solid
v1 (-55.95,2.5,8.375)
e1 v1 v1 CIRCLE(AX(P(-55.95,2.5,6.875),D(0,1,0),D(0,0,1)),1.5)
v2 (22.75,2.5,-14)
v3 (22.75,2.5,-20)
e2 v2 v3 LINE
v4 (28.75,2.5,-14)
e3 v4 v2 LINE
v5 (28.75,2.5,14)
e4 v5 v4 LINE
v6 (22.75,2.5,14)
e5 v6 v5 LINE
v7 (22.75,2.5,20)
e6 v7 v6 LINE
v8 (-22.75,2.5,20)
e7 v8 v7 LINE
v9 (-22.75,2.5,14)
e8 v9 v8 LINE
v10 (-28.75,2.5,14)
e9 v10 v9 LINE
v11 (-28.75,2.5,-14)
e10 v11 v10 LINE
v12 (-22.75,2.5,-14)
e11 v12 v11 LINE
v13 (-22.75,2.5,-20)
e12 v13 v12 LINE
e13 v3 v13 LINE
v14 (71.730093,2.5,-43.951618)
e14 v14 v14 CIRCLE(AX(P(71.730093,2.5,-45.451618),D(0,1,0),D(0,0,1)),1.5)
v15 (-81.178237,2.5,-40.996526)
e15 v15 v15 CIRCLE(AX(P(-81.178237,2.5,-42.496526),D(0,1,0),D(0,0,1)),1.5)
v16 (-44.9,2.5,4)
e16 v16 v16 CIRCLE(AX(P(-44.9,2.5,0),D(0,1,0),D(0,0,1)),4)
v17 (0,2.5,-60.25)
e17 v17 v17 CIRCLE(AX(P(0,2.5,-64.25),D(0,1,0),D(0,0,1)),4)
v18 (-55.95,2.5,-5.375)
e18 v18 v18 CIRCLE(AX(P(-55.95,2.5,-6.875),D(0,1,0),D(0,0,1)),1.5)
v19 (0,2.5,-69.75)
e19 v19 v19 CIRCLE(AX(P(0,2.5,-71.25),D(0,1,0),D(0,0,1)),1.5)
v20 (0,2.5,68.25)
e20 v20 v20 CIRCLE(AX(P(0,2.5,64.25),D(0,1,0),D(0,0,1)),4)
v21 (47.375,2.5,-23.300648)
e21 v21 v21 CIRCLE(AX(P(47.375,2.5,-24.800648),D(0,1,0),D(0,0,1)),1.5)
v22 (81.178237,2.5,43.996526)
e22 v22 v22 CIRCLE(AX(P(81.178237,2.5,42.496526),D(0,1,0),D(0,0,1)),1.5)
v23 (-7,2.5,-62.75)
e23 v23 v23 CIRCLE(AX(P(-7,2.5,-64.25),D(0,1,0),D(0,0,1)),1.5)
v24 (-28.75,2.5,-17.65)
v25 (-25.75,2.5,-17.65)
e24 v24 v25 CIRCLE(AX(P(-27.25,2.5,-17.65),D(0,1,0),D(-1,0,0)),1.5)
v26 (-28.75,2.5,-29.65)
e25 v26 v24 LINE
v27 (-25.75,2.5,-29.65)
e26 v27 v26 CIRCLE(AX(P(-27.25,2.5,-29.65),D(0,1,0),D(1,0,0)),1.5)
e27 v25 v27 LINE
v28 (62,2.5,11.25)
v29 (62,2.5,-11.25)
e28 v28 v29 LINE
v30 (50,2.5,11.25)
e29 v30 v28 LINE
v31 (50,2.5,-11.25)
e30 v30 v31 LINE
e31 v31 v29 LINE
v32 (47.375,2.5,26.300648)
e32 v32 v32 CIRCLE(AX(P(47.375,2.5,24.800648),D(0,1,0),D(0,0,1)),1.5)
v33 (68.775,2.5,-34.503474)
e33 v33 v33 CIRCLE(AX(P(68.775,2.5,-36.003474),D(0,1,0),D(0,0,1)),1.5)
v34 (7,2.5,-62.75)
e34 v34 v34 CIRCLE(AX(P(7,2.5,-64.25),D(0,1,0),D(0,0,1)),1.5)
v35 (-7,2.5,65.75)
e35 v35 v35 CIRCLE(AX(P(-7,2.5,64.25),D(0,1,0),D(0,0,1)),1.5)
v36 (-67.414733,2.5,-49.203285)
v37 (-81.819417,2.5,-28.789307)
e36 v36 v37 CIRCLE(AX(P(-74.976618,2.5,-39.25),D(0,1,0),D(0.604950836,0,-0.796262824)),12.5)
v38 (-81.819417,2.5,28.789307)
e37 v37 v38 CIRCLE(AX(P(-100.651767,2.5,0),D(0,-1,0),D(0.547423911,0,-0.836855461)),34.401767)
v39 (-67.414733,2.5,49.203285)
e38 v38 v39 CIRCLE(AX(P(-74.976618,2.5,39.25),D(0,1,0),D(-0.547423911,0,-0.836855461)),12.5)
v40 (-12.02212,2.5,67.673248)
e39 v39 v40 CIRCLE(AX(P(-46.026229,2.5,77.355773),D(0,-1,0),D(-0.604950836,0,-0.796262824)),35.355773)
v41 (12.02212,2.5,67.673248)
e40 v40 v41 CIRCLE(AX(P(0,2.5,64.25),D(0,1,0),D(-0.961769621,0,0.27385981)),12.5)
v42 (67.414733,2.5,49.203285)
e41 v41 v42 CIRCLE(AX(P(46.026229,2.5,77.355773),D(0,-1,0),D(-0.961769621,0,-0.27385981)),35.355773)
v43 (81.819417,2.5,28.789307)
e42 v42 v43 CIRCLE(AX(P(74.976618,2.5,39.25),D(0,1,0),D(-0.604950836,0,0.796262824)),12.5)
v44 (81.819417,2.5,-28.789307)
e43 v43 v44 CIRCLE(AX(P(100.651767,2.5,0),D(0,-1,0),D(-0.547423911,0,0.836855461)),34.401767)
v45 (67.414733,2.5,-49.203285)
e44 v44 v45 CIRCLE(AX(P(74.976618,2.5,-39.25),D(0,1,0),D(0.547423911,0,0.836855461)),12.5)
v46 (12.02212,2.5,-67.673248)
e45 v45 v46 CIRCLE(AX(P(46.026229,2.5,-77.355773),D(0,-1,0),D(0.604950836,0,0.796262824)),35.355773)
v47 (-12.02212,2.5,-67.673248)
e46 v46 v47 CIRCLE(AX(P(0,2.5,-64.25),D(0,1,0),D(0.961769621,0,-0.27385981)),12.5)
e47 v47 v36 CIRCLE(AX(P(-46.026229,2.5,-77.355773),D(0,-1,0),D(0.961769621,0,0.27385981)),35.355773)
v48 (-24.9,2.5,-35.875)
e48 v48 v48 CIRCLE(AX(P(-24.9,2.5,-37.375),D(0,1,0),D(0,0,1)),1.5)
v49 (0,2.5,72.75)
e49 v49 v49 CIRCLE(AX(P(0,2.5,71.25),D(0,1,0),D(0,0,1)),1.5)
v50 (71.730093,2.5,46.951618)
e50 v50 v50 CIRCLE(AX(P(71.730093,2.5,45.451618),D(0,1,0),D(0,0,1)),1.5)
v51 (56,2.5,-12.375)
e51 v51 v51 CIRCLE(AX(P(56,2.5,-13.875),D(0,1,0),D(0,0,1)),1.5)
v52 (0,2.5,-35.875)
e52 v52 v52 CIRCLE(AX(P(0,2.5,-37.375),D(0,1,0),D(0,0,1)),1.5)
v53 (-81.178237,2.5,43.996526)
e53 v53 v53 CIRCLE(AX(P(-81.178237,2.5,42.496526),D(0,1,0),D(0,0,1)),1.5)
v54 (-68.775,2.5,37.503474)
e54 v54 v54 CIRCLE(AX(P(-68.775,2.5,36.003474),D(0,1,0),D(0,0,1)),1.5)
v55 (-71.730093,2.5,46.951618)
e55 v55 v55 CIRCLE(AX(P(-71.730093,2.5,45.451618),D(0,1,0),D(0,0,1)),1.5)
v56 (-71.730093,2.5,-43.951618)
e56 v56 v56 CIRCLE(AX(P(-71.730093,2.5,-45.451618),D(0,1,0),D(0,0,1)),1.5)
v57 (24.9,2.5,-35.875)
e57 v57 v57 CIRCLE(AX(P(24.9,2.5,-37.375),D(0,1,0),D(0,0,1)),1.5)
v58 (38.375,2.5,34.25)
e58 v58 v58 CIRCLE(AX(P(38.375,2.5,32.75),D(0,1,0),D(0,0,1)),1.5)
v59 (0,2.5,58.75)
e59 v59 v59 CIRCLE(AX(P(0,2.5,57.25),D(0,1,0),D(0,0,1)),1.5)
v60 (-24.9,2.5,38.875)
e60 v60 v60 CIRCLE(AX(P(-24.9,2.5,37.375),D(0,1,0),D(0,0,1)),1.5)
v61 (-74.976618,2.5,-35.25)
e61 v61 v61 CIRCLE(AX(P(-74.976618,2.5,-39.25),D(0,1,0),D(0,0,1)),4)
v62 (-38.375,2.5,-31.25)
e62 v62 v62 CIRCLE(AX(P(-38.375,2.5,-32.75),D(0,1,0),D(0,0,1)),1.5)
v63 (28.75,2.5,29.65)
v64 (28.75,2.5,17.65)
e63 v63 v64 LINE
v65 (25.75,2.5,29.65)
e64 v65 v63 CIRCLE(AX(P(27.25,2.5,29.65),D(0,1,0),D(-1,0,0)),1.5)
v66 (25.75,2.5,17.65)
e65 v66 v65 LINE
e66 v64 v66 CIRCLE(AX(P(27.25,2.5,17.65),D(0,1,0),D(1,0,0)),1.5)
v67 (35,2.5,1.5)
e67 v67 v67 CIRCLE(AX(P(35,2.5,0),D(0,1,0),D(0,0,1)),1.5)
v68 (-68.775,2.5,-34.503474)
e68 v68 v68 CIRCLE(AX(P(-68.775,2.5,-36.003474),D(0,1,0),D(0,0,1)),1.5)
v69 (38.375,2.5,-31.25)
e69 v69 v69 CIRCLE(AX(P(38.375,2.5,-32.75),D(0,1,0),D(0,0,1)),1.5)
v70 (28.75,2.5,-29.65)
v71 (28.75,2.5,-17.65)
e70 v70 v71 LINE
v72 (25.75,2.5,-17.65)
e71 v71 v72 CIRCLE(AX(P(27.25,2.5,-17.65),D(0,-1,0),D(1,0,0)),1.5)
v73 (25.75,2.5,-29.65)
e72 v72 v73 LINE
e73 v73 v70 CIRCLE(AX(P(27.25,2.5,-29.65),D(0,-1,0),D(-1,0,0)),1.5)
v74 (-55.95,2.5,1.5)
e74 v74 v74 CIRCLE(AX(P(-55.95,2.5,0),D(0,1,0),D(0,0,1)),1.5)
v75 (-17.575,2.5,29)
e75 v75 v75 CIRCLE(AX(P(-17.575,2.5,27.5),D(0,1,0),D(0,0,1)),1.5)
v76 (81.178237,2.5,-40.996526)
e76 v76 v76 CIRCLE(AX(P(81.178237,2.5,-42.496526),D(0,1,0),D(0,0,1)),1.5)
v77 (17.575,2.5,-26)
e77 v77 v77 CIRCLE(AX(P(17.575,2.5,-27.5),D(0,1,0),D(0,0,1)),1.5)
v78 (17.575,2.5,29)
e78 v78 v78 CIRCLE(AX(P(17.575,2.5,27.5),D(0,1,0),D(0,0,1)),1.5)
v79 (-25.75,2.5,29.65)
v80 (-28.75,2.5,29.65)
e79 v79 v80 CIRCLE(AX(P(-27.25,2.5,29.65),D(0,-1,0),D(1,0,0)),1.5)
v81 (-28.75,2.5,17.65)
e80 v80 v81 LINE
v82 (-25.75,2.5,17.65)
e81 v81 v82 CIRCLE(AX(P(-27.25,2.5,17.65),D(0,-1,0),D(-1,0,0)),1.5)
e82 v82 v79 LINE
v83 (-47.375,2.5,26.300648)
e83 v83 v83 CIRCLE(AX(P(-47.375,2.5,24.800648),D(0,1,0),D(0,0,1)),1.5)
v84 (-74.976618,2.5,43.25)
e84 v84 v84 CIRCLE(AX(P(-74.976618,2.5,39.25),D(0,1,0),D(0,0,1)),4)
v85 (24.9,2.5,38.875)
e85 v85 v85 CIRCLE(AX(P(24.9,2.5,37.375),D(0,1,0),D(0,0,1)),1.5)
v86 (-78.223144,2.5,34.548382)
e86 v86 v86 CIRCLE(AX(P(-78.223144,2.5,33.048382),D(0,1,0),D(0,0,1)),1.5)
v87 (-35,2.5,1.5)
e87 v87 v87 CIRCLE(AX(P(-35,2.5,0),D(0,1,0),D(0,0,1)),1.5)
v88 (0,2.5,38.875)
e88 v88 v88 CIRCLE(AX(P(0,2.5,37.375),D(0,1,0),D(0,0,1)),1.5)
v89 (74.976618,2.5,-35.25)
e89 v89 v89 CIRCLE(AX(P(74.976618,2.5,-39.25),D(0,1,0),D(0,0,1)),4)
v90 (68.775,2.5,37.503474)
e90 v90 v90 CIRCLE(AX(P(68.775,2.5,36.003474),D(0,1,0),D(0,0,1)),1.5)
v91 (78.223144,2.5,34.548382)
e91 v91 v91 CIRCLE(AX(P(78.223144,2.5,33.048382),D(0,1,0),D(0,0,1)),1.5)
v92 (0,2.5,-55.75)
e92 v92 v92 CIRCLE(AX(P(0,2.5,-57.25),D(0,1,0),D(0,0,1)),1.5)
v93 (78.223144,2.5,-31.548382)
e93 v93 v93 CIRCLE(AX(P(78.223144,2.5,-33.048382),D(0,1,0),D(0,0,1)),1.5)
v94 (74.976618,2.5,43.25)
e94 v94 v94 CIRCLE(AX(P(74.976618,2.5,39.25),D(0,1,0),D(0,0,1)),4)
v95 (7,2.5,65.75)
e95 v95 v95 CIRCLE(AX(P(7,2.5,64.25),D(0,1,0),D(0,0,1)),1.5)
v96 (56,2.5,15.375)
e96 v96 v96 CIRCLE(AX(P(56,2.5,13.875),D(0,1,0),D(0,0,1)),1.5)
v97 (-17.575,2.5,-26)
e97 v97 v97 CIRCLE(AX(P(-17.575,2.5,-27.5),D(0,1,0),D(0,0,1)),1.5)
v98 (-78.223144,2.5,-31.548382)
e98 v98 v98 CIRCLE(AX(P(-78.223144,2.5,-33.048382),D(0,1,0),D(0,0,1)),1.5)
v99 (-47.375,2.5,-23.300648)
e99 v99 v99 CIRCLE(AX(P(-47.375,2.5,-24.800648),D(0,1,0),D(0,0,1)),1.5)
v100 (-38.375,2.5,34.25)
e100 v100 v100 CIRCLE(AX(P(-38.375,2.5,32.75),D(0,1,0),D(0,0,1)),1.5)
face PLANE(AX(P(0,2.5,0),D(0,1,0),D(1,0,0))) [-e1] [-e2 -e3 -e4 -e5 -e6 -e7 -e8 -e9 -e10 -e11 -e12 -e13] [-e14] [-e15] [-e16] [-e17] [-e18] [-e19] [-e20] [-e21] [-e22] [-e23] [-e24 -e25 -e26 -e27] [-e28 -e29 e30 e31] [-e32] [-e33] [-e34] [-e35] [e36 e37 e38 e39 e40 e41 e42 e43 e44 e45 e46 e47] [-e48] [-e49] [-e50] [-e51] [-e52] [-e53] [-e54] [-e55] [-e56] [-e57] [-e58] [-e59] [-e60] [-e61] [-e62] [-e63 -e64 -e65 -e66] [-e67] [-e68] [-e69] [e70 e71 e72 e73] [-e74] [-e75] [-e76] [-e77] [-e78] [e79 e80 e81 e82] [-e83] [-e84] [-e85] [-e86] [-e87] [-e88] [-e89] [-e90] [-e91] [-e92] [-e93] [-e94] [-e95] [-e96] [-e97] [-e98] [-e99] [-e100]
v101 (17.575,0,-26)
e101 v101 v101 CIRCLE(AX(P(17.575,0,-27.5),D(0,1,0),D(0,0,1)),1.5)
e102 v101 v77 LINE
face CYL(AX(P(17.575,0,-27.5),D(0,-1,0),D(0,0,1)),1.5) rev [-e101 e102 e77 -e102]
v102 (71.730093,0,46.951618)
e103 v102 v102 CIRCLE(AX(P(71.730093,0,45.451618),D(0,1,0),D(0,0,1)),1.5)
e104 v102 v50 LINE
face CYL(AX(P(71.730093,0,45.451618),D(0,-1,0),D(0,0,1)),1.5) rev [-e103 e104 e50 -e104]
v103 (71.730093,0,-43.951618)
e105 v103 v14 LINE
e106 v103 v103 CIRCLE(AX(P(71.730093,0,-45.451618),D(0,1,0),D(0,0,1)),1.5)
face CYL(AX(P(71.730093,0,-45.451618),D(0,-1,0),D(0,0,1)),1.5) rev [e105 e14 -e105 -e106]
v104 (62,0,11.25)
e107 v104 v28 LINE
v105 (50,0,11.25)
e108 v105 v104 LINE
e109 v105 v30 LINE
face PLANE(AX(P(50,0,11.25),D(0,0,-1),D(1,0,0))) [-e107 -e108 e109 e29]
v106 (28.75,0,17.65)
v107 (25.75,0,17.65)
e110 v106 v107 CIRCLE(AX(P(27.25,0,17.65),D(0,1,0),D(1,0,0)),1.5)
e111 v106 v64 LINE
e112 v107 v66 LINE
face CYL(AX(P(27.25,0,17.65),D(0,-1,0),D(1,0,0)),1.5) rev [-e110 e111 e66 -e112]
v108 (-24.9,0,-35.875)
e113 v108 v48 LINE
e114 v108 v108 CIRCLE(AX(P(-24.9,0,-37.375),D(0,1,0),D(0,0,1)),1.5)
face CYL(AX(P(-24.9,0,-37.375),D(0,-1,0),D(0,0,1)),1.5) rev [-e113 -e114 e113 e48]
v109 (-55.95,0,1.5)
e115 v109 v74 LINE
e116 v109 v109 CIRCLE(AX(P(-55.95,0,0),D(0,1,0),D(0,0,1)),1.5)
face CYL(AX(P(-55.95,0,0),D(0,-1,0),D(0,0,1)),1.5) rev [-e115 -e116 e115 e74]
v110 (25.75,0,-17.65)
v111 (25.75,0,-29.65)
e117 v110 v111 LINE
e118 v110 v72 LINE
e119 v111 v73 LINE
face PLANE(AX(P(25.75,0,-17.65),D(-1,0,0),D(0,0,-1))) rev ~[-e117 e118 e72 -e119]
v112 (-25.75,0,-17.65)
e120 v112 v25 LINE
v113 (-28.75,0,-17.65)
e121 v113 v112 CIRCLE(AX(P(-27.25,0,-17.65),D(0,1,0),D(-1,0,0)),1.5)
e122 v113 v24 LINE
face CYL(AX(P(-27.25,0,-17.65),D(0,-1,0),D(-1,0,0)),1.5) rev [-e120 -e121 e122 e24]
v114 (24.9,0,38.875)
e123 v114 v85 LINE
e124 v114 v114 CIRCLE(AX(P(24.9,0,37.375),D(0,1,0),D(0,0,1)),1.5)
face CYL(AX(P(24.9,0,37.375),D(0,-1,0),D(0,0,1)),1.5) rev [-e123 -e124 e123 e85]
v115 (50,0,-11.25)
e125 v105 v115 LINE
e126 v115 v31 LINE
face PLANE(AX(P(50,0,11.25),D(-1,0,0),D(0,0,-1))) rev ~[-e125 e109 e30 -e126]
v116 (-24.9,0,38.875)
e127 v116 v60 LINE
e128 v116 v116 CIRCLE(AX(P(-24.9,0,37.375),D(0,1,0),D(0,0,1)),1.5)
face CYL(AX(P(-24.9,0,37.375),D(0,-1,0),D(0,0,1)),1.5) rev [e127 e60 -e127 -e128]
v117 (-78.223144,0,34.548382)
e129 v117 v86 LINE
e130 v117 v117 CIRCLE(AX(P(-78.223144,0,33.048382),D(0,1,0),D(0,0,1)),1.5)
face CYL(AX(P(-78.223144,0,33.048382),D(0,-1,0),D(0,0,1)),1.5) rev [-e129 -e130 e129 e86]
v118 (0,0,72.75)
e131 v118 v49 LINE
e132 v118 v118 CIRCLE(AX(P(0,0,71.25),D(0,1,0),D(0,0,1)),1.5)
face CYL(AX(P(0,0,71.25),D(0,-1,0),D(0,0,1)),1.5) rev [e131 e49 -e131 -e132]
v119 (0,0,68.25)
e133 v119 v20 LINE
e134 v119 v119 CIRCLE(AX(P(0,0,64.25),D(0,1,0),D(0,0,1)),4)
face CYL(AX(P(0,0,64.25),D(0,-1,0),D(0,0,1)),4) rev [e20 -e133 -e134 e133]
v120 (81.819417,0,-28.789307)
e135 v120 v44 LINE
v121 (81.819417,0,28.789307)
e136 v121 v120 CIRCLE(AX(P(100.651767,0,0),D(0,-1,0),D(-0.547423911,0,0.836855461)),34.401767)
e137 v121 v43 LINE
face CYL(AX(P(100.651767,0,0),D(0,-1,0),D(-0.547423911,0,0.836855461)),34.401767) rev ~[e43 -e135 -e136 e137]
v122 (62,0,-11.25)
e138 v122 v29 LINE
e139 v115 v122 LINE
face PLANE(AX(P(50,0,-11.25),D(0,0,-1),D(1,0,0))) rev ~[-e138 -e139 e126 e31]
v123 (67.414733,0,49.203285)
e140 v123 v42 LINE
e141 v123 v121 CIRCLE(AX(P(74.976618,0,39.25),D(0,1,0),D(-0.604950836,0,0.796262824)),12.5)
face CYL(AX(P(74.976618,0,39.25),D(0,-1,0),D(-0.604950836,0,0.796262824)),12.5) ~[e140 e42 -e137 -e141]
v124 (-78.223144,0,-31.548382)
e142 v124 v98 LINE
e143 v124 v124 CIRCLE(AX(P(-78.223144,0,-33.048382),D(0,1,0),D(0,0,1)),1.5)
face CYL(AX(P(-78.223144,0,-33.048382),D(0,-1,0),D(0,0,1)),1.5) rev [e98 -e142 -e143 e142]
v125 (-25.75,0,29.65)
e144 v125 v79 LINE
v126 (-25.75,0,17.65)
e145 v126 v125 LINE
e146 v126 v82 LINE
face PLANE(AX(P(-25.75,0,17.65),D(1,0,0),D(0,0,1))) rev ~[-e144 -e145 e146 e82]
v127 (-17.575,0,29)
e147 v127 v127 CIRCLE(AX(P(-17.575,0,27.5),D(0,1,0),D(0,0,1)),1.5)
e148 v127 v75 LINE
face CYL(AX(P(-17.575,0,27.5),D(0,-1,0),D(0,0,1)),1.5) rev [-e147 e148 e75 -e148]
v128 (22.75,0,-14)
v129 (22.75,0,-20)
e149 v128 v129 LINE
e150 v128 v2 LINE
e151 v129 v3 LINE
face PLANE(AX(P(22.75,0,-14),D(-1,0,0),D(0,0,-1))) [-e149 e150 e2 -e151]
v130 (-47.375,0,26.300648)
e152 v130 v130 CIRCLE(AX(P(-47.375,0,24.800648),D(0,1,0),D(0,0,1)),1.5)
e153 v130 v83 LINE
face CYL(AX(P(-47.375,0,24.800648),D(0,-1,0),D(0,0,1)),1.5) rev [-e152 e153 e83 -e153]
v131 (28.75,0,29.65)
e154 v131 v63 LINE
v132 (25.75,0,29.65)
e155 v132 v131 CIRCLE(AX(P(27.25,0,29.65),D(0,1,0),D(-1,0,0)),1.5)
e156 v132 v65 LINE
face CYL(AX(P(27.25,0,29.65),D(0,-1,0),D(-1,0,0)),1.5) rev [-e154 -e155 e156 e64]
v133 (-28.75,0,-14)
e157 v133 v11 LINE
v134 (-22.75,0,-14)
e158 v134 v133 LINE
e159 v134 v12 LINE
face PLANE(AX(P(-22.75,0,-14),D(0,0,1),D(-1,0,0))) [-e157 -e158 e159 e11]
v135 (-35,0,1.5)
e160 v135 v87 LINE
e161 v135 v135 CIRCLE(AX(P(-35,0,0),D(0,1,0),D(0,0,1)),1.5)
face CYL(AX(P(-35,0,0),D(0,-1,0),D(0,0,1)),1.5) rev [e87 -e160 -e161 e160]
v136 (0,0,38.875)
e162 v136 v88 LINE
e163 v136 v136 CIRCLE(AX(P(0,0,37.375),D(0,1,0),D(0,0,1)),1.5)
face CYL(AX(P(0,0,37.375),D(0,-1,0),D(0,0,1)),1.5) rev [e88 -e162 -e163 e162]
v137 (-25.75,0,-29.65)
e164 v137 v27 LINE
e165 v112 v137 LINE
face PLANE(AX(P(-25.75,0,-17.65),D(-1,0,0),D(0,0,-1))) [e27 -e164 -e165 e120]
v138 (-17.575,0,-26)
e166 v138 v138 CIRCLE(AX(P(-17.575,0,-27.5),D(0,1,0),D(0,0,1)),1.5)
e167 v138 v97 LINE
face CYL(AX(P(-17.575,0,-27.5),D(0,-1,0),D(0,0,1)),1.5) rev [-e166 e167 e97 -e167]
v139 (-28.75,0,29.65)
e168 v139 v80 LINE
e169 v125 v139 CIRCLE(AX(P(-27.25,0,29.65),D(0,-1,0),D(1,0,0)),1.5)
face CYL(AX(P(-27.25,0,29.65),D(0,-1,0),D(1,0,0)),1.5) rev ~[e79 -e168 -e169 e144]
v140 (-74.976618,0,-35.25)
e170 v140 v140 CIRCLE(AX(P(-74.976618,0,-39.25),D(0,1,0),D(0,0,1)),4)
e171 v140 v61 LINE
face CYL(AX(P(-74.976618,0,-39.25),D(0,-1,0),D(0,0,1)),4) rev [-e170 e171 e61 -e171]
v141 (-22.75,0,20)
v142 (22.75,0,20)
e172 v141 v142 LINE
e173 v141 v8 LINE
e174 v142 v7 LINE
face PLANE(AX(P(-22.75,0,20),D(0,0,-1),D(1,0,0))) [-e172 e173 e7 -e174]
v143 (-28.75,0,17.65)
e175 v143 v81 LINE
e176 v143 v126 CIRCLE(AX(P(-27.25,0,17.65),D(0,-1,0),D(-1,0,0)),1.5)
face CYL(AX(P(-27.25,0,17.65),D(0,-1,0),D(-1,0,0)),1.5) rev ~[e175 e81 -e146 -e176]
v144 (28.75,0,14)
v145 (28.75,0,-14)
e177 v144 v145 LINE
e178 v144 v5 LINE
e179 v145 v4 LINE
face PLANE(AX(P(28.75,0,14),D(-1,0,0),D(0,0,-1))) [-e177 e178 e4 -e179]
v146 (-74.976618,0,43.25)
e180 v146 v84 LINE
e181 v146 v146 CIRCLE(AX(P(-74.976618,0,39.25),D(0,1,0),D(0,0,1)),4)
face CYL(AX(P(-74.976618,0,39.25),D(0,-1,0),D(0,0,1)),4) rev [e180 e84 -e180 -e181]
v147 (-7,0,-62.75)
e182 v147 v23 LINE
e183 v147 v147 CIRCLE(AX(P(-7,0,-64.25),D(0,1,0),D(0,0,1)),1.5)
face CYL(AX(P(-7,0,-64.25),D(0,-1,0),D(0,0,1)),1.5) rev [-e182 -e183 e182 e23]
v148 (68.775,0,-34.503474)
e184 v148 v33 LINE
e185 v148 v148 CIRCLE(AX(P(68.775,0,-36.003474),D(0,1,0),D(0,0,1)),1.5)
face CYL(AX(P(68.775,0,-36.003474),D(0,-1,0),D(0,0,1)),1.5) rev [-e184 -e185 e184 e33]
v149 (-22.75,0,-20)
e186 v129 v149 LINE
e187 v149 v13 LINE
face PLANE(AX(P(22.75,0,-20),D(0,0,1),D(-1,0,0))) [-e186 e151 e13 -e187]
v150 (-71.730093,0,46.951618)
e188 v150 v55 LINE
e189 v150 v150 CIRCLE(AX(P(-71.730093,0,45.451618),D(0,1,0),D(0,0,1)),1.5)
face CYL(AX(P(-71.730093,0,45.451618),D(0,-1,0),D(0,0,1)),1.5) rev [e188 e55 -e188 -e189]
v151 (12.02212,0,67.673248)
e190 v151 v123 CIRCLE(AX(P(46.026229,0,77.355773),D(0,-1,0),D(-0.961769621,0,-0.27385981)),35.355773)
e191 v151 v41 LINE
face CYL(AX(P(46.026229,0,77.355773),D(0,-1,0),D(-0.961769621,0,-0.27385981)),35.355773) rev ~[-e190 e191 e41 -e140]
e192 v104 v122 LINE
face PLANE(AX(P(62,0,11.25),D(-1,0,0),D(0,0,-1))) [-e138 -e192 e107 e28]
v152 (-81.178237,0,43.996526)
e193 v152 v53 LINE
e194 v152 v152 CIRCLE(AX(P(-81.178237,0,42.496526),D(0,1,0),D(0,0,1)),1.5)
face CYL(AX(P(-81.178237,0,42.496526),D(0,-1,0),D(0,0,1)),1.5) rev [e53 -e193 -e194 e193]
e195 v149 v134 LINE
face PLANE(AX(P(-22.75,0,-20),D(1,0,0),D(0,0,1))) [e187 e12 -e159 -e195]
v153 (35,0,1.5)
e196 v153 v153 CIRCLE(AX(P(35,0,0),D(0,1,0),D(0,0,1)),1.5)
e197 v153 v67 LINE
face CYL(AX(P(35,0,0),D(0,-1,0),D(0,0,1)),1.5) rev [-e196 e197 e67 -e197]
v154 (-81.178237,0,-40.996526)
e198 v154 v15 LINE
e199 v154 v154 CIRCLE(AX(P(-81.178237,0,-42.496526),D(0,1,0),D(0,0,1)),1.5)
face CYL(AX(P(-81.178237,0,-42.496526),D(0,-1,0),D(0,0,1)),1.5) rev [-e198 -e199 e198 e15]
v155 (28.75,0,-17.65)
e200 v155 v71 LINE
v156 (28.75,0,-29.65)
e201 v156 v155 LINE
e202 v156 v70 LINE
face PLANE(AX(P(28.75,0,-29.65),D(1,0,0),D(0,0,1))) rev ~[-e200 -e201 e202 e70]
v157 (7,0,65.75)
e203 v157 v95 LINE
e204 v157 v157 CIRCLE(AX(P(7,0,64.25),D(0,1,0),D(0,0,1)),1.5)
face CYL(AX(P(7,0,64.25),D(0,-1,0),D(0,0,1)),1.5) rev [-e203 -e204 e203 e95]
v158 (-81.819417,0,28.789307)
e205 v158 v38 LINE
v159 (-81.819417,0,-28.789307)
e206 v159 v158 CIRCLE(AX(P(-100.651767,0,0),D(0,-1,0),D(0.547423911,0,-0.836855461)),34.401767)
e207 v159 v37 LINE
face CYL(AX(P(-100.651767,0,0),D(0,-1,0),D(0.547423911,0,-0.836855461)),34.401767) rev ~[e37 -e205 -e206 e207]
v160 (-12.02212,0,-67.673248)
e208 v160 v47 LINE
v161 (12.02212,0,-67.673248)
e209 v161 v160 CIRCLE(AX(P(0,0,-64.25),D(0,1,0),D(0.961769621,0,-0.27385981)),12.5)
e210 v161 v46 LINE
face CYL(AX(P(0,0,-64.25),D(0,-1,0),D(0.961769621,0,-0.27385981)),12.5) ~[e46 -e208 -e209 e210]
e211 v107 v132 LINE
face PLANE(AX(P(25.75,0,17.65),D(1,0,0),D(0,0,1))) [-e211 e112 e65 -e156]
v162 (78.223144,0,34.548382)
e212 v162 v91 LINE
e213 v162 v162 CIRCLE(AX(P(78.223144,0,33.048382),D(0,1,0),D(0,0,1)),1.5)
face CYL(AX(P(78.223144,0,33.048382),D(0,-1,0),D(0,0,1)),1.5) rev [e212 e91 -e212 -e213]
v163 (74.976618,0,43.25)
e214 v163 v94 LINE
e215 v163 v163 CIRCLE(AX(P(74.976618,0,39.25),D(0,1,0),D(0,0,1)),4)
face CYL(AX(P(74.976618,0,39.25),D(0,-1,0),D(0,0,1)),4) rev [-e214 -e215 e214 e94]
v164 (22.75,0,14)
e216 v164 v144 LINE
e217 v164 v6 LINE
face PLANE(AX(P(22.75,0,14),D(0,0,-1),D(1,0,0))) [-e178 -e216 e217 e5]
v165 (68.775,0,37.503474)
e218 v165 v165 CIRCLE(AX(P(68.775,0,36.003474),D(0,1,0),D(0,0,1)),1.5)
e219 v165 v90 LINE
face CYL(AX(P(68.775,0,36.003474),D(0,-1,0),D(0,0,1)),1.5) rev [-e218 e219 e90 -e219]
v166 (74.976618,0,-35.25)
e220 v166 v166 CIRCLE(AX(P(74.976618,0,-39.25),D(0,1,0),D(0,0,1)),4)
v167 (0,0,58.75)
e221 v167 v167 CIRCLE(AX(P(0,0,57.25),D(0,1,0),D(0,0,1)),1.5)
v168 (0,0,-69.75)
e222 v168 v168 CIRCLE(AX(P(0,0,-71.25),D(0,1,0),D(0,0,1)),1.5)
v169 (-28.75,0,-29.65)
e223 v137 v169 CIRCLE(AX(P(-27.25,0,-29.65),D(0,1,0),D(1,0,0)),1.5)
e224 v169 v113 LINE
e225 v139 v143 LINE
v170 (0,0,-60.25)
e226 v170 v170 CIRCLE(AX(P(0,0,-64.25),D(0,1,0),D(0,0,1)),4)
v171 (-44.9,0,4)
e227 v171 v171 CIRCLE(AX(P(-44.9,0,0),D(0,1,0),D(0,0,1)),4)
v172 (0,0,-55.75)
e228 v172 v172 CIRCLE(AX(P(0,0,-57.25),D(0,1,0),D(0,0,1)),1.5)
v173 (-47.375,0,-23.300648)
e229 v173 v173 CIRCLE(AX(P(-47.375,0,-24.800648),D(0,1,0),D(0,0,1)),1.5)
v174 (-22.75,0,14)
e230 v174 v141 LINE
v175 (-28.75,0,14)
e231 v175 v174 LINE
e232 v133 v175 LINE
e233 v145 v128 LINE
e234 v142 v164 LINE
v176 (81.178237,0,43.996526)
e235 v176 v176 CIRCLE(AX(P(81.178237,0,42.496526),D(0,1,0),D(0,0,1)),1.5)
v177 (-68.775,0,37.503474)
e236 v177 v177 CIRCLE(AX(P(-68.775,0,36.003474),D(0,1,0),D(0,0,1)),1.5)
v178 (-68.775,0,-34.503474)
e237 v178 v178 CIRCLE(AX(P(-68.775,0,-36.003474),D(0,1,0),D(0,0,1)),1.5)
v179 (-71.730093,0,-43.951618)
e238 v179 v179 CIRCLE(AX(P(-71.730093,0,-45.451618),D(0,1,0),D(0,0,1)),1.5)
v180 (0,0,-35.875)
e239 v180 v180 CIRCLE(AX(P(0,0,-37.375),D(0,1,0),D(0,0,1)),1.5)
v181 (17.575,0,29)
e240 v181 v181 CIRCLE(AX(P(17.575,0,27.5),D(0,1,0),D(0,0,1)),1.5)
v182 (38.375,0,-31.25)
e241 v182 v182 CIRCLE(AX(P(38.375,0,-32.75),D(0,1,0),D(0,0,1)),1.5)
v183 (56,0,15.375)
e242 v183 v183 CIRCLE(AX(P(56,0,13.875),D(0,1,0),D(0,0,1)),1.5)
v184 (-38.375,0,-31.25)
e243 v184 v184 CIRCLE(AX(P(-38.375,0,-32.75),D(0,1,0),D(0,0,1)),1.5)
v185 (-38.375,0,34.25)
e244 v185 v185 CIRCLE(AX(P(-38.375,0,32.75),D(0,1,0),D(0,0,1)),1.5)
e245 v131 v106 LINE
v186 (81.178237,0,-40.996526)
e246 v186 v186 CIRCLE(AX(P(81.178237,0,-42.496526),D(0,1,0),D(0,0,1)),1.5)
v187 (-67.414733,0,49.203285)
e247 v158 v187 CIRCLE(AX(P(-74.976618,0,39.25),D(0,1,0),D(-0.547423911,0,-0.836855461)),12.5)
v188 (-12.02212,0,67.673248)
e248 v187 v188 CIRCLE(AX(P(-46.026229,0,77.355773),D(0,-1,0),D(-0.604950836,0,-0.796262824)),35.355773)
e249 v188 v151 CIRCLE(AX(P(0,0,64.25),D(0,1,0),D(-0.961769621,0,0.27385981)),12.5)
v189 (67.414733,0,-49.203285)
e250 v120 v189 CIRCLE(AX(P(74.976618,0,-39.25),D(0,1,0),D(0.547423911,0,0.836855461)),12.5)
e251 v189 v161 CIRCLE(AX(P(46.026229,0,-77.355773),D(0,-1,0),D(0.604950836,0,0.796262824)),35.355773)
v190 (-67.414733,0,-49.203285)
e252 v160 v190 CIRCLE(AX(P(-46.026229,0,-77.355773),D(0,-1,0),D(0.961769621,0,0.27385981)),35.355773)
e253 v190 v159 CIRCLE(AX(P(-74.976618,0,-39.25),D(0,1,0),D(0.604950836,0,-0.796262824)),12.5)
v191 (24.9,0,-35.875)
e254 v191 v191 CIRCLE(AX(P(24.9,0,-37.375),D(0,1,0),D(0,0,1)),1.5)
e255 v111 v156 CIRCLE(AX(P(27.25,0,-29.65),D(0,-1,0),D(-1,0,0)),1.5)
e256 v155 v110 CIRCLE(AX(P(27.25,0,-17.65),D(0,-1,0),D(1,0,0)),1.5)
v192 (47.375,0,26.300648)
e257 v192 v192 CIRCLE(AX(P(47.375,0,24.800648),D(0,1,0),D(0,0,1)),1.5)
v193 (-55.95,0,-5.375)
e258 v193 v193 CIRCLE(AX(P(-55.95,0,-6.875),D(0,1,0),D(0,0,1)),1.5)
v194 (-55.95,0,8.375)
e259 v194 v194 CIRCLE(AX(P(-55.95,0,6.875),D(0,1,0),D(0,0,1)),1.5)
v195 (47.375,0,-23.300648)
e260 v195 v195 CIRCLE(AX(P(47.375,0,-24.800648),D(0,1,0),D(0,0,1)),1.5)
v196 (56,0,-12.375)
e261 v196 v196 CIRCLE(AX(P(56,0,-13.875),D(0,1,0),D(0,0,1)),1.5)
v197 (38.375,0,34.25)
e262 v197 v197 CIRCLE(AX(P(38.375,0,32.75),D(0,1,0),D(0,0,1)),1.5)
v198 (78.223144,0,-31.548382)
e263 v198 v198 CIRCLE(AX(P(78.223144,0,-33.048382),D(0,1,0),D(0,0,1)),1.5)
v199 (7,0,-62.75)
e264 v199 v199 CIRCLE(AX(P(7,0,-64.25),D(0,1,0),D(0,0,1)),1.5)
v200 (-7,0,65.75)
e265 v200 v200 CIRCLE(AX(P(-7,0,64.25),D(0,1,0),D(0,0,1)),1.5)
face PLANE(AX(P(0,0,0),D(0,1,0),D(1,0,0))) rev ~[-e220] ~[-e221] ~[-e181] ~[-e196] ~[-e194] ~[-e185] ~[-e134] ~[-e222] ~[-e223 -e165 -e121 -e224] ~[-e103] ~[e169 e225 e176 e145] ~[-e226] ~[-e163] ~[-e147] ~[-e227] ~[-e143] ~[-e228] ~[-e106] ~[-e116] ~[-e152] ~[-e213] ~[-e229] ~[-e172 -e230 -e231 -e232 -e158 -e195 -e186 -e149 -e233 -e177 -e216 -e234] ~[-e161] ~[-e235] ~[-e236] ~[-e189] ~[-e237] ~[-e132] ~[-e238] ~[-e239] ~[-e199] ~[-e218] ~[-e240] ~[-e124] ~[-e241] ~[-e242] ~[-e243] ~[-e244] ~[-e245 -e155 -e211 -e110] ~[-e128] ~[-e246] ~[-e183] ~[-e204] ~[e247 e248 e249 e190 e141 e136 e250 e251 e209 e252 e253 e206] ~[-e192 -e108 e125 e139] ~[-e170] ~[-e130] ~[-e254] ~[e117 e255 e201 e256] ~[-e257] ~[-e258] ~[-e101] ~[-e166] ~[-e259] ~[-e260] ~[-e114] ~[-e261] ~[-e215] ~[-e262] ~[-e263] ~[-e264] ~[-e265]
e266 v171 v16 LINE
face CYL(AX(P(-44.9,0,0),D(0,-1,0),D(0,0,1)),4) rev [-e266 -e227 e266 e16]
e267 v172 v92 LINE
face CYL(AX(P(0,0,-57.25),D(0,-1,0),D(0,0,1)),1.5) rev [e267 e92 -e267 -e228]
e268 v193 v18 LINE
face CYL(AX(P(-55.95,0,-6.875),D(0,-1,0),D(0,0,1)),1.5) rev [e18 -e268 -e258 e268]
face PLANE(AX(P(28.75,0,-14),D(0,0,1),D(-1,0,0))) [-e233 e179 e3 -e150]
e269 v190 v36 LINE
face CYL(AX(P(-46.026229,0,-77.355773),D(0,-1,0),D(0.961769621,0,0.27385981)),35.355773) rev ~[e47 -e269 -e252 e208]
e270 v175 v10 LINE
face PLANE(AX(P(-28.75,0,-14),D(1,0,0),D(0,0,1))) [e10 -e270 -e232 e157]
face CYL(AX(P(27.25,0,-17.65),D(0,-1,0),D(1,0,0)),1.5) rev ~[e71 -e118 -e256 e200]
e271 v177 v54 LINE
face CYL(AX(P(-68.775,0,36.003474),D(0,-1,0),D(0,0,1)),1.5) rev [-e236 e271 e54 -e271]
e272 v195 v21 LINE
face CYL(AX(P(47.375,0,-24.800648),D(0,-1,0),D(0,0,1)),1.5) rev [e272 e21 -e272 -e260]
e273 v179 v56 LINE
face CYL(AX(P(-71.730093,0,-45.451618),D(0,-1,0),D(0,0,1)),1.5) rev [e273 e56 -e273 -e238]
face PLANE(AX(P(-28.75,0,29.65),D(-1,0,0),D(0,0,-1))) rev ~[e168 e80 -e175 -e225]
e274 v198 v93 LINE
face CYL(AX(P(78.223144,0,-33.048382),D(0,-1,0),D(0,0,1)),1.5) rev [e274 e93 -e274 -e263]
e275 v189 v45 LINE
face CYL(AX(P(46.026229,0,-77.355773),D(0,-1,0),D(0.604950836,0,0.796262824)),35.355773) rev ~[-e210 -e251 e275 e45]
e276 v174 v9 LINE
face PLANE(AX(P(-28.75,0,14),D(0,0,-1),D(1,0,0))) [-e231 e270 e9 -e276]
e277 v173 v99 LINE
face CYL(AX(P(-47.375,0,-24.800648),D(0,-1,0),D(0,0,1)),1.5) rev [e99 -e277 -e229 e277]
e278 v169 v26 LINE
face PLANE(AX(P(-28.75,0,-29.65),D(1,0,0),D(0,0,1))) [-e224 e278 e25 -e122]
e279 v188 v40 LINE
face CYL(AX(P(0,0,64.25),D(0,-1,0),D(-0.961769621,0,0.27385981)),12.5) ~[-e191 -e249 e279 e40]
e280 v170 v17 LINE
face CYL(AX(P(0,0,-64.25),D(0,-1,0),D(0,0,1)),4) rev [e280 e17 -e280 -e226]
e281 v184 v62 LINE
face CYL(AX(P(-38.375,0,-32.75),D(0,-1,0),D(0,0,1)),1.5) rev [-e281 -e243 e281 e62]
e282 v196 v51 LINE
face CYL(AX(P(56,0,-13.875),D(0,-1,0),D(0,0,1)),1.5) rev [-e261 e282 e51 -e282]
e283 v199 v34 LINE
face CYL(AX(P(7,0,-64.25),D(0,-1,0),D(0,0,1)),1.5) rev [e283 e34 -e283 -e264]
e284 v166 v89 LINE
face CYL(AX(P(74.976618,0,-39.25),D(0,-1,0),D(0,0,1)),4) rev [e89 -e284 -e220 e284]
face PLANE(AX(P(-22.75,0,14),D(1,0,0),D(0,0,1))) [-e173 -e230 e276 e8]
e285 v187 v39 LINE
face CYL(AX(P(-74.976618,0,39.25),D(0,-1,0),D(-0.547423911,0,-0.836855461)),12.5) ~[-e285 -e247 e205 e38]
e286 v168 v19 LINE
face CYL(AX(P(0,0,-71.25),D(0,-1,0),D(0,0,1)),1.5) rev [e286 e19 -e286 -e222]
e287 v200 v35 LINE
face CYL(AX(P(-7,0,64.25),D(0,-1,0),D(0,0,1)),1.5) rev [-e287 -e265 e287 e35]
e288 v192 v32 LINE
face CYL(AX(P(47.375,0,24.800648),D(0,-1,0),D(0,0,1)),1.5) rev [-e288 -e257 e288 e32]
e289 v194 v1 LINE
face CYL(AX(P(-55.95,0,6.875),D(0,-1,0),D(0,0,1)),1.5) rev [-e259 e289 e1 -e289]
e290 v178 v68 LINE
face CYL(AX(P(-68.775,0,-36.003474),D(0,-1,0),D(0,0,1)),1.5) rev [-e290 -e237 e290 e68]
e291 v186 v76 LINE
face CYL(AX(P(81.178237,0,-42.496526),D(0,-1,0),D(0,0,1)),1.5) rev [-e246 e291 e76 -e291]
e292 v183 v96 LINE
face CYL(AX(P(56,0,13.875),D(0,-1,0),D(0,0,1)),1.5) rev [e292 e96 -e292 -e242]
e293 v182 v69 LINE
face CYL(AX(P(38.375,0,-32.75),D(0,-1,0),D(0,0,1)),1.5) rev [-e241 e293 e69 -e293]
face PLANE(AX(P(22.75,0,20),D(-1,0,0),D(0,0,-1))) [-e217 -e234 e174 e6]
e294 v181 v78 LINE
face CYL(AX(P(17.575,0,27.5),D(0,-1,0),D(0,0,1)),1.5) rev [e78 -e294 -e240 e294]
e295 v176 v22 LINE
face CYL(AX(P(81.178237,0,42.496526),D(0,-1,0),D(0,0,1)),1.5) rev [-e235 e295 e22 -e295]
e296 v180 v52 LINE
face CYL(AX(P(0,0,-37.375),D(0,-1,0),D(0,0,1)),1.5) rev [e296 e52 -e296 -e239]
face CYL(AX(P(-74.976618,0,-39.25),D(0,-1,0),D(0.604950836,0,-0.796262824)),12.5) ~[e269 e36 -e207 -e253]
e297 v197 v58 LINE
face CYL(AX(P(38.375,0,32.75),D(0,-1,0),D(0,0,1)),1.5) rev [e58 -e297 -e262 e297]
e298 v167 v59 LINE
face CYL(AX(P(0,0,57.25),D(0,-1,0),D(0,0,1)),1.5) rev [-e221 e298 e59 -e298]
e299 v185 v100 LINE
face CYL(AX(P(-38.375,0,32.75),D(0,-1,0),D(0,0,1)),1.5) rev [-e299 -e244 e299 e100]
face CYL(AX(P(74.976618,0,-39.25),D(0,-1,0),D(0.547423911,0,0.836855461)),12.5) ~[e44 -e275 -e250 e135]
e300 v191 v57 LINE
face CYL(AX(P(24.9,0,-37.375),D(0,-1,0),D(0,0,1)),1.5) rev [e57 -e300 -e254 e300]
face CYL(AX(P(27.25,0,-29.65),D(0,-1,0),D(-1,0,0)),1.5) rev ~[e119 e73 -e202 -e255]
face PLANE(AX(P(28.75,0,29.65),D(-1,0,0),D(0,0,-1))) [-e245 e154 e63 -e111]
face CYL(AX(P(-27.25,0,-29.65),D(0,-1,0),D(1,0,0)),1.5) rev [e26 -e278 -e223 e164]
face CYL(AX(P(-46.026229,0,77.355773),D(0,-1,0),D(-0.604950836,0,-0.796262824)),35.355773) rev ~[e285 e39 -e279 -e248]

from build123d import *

# Parameters (mm, degrees)
SKETCH1_R           = 4
SKETCH1_R_2         = 1.5
SKETCH1_W           = 12
SKETCH1_H           = 22.5
BOSS_EXTRUDE1_DEPTH = 2.5


with BuildPart() as part:
    # Sketch1 → Boss-Extrude1 (new body)
    with BuildSketch(Plane(origin=(0, 0, 0), x_dir=(1, 0, 0), z_dir=(0, 1, 0))):
        with BuildLine():
            ThreePointArc((12.022120265, 67.673247628), (0, 76.75), (-12.022120265, 67.673247628))
            ThreePointArc((-12.022120265, 67.673247628), (-34.842613641, 43.81538777), (-67.414732932, 49.203285306))
            ThreePointArc((-67.414732932, 49.203285306), (-85.189938198, 46.45680917), (-81.819417269, 28.789306741))
            ThreePointArc((-81.819417269, 28.789306741), (-66.25, 0), (-81.819417269, -28.789306741))
            ThreePointArc((-81.819417269, -28.789306741), (-85.189938198, -46.45680917), (-67.414732932, -49.203285306))
            ThreePointArc((-67.414732932, -49.203285306), (-34.842613641, -43.81538777), (-12.022120265, -67.673247628))
            ThreePointArc((-12.022120265, -67.673247628), (0, -76.75), (12.022120265, -67.673247628))
            ThreePointArc((12.022120265, -67.673247628), (34.842613641, -43.81538777), (67.414732932, -49.203285306))
            ThreePointArc((67.414732932, -49.203285306), (85.189938198, -46.45680917), (81.819417269, -28.789306741))
            ThreePointArc((81.819417269, -28.789306741), (66.25, 0), (81.819417269, 28.789306741))
            ThreePointArc((81.819417269, 28.789306741), (85.189938198, 46.45680917), (67.414732932, 49.203285306))
            ThreePointArc((67.414732932, 49.203285306), (34.842613641, 43.81538777), (12.022120265, 67.673247628))
        make_face()
        with Locations(Location((0, 64.25, 0), (0, 0, 270))):
            Circle(SKETCH1_R, mode=Mode.SUBTRACT)
        with Locations(Location((-7, 64.25, 0), (0, 0, 270))):
            Circle(SKETCH1_R_2, mode=Mode.SUBTRACT)
        with Locations(Location((0, 57.25, 0), (0, 0, 270))):
            Circle(SKETCH1_R_2, mode=Mode.SUBTRACT)
        with Locations(Location((7, 64.25, 0), (0, 0, 270))):
            Circle(SKETCH1_R_2, mode=Mode.SUBTRACT)
        with Locations(Location((0, 71.25, 0), (0, 0, 270))):
            Circle(SKETCH1_R_2, mode=Mode.SUBTRACT)
        with Locations(Location((0, 37.375, 0), (0, 0, 270))):
            Circle(SKETCH1_R_2, mode=Mode.SUBTRACT)
        with Locations(Location((17.575, 27.5, 0), (0, 0, 270))):
            Circle(SKETCH1_R_2, mode=Mode.SUBTRACT)
        with Locations(Location((24.9, 37.375, 0), (0, 0, 270))):
            Circle(SKETCH1_R_2, mode=Mode.SUBTRACT)
        with Locations(Location((38.375, 32.75, 0), (0, 0, 270))):
            Circle(SKETCH1_R_2, mode=Mode.SUBTRACT)
        with Locations(Location((47.375, 24.800648389, 0), (0, 0, 270))):
            Circle(SKETCH1_R_2, mode=Mode.SUBTRACT)
        with Locations(Location((74.976618386, 39.25, 0), (0, 0, 270))):
            Circle(SKETCH1_R, mode=Mode.SUBTRACT)
        with Locations(Location((68.775, 36.003474258, 0), (0, 0, 270))):
            Circle(SKETCH1_R_2, mode=Mode.SUBTRACT)
        with Locations(Location((71.730092644, 45.451618386, 0), (0, 0, 270))):
            Circle(SKETCH1_R_2, mode=Mode.SUBTRACT)
        with Locations(Location((81.178236772, 42.496525742, 0), (0, 0, 270))):
            Circle(SKETCH1_R_2, mode=Mode.SUBTRACT)
        with Locations(Location((78.223144128, 33.048381614, 0), (0, 0, 270))):
            Circle(SKETCH1_R_2, mode=Mode.SUBTRACT)
        with Locations(Location((35, 0, 0), (0, 0, 270))):
            Circle(SKETCH1_R_2, mode=Mode.SUBTRACT)
        with Locations(Location((-35, 0, 0), (0, 0, 270))):
            Circle(SKETCH1_R_2, mode=Mode.SUBTRACT)
        with Locations(Location((-47.375, 24.800648389, 0), (0, 0, 270))):
            Circle(SKETCH1_R_2, mode=Mode.SUBTRACT)
        with Locations(Location((-38.375, 32.75, 0), (0, 0, 270))):
            Circle(SKETCH1_R_2, mode=Mode.SUBTRACT)
        with Locations(Location((-17.575, 27.5, 0), (0, 0, 270))):
            Circle(SKETCH1_R_2, mode=Mode.SUBTRACT)
        with Locations(Location((-24.9, 37.375, 0), (0, 0, 270))):
            Circle(SKETCH1_R_2, mode=Mode.SUBTRACT)
        with Locations(Location((-78.223144128, 33.048381614, 0), (0, 0, 270))):
            Circle(SKETCH1_R_2, mode=Mode.SUBTRACT)
        with Locations(Location((-81.178236772, 42.496525742, 0), (0, 0, 270))):
            Circle(SKETCH1_R_2, mode=Mode.SUBTRACT)
        with Locations(Location((-71.730092644, 45.451618386, 0), (0, 0, 270))):
            Circle(SKETCH1_R_2, mode=Mode.SUBTRACT)
        with Locations(Location((-68.775, 36.003474258, 0), (0, 0, 270))):
            Circle(SKETCH1_R_2, mode=Mode.SUBTRACT)
        with Locations(Location((-74.976618386, 39.25, 0), (0, 0, 270))):
            Circle(SKETCH1_R, mode=Mode.SUBTRACT)
        with Locations(Location((-24.9, -37.375, 0), (0, 0, 270))):
            Circle(SKETCH1_R_2, mode=Mode.SUBTRACT)
        with Locations(Location((-17.575, -27.5, 0), (0, 0, 270))):
            Circle(SKETCH1_R_2, mode=Mode.SUBTRACT)
        with Locations(Location((-38.375, -32.75, 0), (0, 0, 270))):
            Circle(SKETCH1_R_2, mode=Mode.SUBTRACT)
        with Locations(Location((-47.375, -24.800648389, 0), (0, 0, 270))):
            Circle(SKETCH1_R_2, mode=Mode.SUBTRACT)
        with Locations(Location((47.375, -24.800648389, 0), (0, 0, 270))):
            Circle(SKETCH1_R_2, mode=Mode.SUBTRACT)
        with Locations(Location((38.375, -32.75, 0), (0, 0, 270))):
            Circle(SKETCH1_R_2, mode=Mode.SUBTRACT)
        with Locations(Location((24.9, -37.375, 0), (0, 0, 270))):
            Circle(SKETCH1_R_2, mode=Mode.SUBTRACT)
        with Locations(Location((17.575, -27.5, 0), (0, 0, 270))):
            Circle(SKETCH1_R_2, mode=Mode.SUBTRACT)
        with Locations(Location((0, -37.375, 0), (0, 0, 270))):
            Circle(SKETCH1_R_2, mode=Mode.SUBTRACT)
        with Locations(Location((0, -71.25, 0), (0, 0, 270))):
            Circle(SKETCH1_R_2, mode=Mode.SUBTRACT)
        with Locations(Location((7, -64.25, 0), (0, 0, 270))):
            Circle(SKETCH1_R_2, mode=Mode.SUBTRACT)
        with Locations(Location((0, -57.25, 0), (0, 0, 270))):
            Circle(SKETCH1_R_2, mode=Mode.SUBTRACT)
        with Locations(Location((-7, -64.25, 0), (0, 0, 270))):
            Circle(SKETCH1_R_2, mode=Mode.SUBTRACT)
        with Locations(Location((0, -64.25, 0), (0, 0, 270))):
            Circle(SKETCH1_R, mode=Mode.SUBTRACT)
        with Locations(Location((78.223144128, -33.048381614, 0), (0, 0, 270))):
            Circle(SKETCH1_R_2, mode=Mode.SUBTRACT)
        with Locations(Location((81.178236772, -42.496525742, 0), (0, 0, 270))):
            Circle(SKETCH1_R_2, mode=Mode.SUBTRACT)
        with Locations(Location((71.730092644, -45.451618386, 0), (0, 0, 270))):
            Circle(SKETCH1_R_2, mode=Mode.SUBTRACT)
        with Locations(Location((68.775, -36.003474258, 0), (0, 0, 270))):
            Circle(SKETCH1_R_2, mode=Mode.SUBTRACT)
        with Locations(Location((74.976618386, -39.25, 0), (0, 0, 270))):
            Circle(SKETCH1_R, mode=Mode.SUBTRACT)
        with Locations(Location((-74.976618386, -39.25, 0), (0, 0, 270))):
            Circle(SKETCH1_R, mode=Mode.SUBTRACT)
        with Locations(Location((-68.775, -36.003474258, 0), (0, 0, 270))):
            Circle(SKETCH1_R_2, mode=Mode.SUBTRACT)
        with Locations(Location((-71.730092644, -45.451618386, 0), (0, 0, 270))):
            Circle(SKETCH1_R_2, mode=Mode.SUBTRACT)
        with Locations(Location((-81.178236772, -42.496525742, 0), (0, 0, 270))):
            Circle(SKETCH1_R_2, mode=Mode.SUBTRACT)
        with Locations(Location((-78.223144128, -33.048381614, 0), (0, 0, 270))):
            Circle(SKETCH1_R_2, mode=Mode.SUBTRACT)
        with Locations(Location((56, 13.875, 0), (0, 0, 270))):
            Circle(SKETCH1_R_2, mode=Mode.SUBTRACT)
        with Locations(Location((56, -13.875, 0), (0, 0, 270))):
            Circle(SKETCH1_R_2, mode=Mode.SUBTRACT)
        with Locations(Location((-44.9, 0, 0), (0, 0, 270))):
            Circle(SKETCH1_R, mode=Mode.SUBTRACT)
        with Locations(Location((-55.95, 0, 0), (0, 0, 270))):
            Circle(SKETCH1_R_2, mode=Mode.SUBTRACT)
        with Locations(Location((-55.95, 6.875, 0), (0, 0, 270))):
            Circle(SKETCH1_R_2, mode=Mode.SUBTRACT)
        with Locations(Location((-55.95, -6.875, 0), (0, 0, 270))):
            Circle(SKETCH1_R_2, mode=Mode.SUBTRACT)
        with BuildLine():
            Line((25.75, 17.65), (25.75, 29.65))
            ThreePointArc((25.75, 29.65), (27.25, 31.15), (28.75, 29.65))
            Line((28.75, 29.65), (28.75, 17.65))
            ThreePointArc((28.75, 17.65), (27.25, 16.15), (25.75, 17.65))
        make_face(mode=Mode.SUBTRACT)
        Polygon((-22.75, 20), (-22.75, 14), (-28.75, 14), (-28.75, -14), (-22.75, -14), (-22.75, -20), (22.75, -20), (22.75, -14), (28.75, -14), (28.75, 14), (22.75, 14), (22.75, 20), align=None, mode=Mode.SUBTRACT)
        with BuildLine():
            Line((-25.75, 17.65), (-25.75, 29.65))
            ThreePointArc((-25.75, 29.65), (-27.25, 31.15), (-28.75, 29.65))
            Line((-28.75, 29.65), (-28.75, 17.65))
            ThreePointArc((-28.75, 17.65), (-27.25, 16.15), (-25.75, 17.65))
        make_face(mode=Mode.SUBTRACT)
        with BuildLine():
            Line((-25.75, -17.65), (-25.75, -29.65))
            ThreePointArc((-25.75, -29.65), (-27.25, -31.15), (-28.75, -29.65))
            Line((-28.75, -29.65), (-28.75, -17.65))
            ThreePointArc((-28.75, -17.65), (-27.25, -16.15), (-25.75, -17.65))
        make_face(mode=Mode.SUBTRACT)
        with BuildLine():
            Line((25.75, -17.65), (25.75, -29.65))
            ThreePointArc((25.75, -29.65), (27.25, -31.15), (28.75, -29.65))
            Line((28.75, -29.65), (28.75, -17.65))
            ThreePointArc((28.75, -17.65), (27.25, -16.15), (25.75, -17.65))
        make_face(mode=Mode.SUBTRACT)
        with Locations((56, 0)):
            Rectangle(SKETCH1_W, SKETCH1_H, mode=Mode.SUBTRACT)
    extrude(amount=BOSS_EXTRUDE1_DEPTH)


solid = part.part
